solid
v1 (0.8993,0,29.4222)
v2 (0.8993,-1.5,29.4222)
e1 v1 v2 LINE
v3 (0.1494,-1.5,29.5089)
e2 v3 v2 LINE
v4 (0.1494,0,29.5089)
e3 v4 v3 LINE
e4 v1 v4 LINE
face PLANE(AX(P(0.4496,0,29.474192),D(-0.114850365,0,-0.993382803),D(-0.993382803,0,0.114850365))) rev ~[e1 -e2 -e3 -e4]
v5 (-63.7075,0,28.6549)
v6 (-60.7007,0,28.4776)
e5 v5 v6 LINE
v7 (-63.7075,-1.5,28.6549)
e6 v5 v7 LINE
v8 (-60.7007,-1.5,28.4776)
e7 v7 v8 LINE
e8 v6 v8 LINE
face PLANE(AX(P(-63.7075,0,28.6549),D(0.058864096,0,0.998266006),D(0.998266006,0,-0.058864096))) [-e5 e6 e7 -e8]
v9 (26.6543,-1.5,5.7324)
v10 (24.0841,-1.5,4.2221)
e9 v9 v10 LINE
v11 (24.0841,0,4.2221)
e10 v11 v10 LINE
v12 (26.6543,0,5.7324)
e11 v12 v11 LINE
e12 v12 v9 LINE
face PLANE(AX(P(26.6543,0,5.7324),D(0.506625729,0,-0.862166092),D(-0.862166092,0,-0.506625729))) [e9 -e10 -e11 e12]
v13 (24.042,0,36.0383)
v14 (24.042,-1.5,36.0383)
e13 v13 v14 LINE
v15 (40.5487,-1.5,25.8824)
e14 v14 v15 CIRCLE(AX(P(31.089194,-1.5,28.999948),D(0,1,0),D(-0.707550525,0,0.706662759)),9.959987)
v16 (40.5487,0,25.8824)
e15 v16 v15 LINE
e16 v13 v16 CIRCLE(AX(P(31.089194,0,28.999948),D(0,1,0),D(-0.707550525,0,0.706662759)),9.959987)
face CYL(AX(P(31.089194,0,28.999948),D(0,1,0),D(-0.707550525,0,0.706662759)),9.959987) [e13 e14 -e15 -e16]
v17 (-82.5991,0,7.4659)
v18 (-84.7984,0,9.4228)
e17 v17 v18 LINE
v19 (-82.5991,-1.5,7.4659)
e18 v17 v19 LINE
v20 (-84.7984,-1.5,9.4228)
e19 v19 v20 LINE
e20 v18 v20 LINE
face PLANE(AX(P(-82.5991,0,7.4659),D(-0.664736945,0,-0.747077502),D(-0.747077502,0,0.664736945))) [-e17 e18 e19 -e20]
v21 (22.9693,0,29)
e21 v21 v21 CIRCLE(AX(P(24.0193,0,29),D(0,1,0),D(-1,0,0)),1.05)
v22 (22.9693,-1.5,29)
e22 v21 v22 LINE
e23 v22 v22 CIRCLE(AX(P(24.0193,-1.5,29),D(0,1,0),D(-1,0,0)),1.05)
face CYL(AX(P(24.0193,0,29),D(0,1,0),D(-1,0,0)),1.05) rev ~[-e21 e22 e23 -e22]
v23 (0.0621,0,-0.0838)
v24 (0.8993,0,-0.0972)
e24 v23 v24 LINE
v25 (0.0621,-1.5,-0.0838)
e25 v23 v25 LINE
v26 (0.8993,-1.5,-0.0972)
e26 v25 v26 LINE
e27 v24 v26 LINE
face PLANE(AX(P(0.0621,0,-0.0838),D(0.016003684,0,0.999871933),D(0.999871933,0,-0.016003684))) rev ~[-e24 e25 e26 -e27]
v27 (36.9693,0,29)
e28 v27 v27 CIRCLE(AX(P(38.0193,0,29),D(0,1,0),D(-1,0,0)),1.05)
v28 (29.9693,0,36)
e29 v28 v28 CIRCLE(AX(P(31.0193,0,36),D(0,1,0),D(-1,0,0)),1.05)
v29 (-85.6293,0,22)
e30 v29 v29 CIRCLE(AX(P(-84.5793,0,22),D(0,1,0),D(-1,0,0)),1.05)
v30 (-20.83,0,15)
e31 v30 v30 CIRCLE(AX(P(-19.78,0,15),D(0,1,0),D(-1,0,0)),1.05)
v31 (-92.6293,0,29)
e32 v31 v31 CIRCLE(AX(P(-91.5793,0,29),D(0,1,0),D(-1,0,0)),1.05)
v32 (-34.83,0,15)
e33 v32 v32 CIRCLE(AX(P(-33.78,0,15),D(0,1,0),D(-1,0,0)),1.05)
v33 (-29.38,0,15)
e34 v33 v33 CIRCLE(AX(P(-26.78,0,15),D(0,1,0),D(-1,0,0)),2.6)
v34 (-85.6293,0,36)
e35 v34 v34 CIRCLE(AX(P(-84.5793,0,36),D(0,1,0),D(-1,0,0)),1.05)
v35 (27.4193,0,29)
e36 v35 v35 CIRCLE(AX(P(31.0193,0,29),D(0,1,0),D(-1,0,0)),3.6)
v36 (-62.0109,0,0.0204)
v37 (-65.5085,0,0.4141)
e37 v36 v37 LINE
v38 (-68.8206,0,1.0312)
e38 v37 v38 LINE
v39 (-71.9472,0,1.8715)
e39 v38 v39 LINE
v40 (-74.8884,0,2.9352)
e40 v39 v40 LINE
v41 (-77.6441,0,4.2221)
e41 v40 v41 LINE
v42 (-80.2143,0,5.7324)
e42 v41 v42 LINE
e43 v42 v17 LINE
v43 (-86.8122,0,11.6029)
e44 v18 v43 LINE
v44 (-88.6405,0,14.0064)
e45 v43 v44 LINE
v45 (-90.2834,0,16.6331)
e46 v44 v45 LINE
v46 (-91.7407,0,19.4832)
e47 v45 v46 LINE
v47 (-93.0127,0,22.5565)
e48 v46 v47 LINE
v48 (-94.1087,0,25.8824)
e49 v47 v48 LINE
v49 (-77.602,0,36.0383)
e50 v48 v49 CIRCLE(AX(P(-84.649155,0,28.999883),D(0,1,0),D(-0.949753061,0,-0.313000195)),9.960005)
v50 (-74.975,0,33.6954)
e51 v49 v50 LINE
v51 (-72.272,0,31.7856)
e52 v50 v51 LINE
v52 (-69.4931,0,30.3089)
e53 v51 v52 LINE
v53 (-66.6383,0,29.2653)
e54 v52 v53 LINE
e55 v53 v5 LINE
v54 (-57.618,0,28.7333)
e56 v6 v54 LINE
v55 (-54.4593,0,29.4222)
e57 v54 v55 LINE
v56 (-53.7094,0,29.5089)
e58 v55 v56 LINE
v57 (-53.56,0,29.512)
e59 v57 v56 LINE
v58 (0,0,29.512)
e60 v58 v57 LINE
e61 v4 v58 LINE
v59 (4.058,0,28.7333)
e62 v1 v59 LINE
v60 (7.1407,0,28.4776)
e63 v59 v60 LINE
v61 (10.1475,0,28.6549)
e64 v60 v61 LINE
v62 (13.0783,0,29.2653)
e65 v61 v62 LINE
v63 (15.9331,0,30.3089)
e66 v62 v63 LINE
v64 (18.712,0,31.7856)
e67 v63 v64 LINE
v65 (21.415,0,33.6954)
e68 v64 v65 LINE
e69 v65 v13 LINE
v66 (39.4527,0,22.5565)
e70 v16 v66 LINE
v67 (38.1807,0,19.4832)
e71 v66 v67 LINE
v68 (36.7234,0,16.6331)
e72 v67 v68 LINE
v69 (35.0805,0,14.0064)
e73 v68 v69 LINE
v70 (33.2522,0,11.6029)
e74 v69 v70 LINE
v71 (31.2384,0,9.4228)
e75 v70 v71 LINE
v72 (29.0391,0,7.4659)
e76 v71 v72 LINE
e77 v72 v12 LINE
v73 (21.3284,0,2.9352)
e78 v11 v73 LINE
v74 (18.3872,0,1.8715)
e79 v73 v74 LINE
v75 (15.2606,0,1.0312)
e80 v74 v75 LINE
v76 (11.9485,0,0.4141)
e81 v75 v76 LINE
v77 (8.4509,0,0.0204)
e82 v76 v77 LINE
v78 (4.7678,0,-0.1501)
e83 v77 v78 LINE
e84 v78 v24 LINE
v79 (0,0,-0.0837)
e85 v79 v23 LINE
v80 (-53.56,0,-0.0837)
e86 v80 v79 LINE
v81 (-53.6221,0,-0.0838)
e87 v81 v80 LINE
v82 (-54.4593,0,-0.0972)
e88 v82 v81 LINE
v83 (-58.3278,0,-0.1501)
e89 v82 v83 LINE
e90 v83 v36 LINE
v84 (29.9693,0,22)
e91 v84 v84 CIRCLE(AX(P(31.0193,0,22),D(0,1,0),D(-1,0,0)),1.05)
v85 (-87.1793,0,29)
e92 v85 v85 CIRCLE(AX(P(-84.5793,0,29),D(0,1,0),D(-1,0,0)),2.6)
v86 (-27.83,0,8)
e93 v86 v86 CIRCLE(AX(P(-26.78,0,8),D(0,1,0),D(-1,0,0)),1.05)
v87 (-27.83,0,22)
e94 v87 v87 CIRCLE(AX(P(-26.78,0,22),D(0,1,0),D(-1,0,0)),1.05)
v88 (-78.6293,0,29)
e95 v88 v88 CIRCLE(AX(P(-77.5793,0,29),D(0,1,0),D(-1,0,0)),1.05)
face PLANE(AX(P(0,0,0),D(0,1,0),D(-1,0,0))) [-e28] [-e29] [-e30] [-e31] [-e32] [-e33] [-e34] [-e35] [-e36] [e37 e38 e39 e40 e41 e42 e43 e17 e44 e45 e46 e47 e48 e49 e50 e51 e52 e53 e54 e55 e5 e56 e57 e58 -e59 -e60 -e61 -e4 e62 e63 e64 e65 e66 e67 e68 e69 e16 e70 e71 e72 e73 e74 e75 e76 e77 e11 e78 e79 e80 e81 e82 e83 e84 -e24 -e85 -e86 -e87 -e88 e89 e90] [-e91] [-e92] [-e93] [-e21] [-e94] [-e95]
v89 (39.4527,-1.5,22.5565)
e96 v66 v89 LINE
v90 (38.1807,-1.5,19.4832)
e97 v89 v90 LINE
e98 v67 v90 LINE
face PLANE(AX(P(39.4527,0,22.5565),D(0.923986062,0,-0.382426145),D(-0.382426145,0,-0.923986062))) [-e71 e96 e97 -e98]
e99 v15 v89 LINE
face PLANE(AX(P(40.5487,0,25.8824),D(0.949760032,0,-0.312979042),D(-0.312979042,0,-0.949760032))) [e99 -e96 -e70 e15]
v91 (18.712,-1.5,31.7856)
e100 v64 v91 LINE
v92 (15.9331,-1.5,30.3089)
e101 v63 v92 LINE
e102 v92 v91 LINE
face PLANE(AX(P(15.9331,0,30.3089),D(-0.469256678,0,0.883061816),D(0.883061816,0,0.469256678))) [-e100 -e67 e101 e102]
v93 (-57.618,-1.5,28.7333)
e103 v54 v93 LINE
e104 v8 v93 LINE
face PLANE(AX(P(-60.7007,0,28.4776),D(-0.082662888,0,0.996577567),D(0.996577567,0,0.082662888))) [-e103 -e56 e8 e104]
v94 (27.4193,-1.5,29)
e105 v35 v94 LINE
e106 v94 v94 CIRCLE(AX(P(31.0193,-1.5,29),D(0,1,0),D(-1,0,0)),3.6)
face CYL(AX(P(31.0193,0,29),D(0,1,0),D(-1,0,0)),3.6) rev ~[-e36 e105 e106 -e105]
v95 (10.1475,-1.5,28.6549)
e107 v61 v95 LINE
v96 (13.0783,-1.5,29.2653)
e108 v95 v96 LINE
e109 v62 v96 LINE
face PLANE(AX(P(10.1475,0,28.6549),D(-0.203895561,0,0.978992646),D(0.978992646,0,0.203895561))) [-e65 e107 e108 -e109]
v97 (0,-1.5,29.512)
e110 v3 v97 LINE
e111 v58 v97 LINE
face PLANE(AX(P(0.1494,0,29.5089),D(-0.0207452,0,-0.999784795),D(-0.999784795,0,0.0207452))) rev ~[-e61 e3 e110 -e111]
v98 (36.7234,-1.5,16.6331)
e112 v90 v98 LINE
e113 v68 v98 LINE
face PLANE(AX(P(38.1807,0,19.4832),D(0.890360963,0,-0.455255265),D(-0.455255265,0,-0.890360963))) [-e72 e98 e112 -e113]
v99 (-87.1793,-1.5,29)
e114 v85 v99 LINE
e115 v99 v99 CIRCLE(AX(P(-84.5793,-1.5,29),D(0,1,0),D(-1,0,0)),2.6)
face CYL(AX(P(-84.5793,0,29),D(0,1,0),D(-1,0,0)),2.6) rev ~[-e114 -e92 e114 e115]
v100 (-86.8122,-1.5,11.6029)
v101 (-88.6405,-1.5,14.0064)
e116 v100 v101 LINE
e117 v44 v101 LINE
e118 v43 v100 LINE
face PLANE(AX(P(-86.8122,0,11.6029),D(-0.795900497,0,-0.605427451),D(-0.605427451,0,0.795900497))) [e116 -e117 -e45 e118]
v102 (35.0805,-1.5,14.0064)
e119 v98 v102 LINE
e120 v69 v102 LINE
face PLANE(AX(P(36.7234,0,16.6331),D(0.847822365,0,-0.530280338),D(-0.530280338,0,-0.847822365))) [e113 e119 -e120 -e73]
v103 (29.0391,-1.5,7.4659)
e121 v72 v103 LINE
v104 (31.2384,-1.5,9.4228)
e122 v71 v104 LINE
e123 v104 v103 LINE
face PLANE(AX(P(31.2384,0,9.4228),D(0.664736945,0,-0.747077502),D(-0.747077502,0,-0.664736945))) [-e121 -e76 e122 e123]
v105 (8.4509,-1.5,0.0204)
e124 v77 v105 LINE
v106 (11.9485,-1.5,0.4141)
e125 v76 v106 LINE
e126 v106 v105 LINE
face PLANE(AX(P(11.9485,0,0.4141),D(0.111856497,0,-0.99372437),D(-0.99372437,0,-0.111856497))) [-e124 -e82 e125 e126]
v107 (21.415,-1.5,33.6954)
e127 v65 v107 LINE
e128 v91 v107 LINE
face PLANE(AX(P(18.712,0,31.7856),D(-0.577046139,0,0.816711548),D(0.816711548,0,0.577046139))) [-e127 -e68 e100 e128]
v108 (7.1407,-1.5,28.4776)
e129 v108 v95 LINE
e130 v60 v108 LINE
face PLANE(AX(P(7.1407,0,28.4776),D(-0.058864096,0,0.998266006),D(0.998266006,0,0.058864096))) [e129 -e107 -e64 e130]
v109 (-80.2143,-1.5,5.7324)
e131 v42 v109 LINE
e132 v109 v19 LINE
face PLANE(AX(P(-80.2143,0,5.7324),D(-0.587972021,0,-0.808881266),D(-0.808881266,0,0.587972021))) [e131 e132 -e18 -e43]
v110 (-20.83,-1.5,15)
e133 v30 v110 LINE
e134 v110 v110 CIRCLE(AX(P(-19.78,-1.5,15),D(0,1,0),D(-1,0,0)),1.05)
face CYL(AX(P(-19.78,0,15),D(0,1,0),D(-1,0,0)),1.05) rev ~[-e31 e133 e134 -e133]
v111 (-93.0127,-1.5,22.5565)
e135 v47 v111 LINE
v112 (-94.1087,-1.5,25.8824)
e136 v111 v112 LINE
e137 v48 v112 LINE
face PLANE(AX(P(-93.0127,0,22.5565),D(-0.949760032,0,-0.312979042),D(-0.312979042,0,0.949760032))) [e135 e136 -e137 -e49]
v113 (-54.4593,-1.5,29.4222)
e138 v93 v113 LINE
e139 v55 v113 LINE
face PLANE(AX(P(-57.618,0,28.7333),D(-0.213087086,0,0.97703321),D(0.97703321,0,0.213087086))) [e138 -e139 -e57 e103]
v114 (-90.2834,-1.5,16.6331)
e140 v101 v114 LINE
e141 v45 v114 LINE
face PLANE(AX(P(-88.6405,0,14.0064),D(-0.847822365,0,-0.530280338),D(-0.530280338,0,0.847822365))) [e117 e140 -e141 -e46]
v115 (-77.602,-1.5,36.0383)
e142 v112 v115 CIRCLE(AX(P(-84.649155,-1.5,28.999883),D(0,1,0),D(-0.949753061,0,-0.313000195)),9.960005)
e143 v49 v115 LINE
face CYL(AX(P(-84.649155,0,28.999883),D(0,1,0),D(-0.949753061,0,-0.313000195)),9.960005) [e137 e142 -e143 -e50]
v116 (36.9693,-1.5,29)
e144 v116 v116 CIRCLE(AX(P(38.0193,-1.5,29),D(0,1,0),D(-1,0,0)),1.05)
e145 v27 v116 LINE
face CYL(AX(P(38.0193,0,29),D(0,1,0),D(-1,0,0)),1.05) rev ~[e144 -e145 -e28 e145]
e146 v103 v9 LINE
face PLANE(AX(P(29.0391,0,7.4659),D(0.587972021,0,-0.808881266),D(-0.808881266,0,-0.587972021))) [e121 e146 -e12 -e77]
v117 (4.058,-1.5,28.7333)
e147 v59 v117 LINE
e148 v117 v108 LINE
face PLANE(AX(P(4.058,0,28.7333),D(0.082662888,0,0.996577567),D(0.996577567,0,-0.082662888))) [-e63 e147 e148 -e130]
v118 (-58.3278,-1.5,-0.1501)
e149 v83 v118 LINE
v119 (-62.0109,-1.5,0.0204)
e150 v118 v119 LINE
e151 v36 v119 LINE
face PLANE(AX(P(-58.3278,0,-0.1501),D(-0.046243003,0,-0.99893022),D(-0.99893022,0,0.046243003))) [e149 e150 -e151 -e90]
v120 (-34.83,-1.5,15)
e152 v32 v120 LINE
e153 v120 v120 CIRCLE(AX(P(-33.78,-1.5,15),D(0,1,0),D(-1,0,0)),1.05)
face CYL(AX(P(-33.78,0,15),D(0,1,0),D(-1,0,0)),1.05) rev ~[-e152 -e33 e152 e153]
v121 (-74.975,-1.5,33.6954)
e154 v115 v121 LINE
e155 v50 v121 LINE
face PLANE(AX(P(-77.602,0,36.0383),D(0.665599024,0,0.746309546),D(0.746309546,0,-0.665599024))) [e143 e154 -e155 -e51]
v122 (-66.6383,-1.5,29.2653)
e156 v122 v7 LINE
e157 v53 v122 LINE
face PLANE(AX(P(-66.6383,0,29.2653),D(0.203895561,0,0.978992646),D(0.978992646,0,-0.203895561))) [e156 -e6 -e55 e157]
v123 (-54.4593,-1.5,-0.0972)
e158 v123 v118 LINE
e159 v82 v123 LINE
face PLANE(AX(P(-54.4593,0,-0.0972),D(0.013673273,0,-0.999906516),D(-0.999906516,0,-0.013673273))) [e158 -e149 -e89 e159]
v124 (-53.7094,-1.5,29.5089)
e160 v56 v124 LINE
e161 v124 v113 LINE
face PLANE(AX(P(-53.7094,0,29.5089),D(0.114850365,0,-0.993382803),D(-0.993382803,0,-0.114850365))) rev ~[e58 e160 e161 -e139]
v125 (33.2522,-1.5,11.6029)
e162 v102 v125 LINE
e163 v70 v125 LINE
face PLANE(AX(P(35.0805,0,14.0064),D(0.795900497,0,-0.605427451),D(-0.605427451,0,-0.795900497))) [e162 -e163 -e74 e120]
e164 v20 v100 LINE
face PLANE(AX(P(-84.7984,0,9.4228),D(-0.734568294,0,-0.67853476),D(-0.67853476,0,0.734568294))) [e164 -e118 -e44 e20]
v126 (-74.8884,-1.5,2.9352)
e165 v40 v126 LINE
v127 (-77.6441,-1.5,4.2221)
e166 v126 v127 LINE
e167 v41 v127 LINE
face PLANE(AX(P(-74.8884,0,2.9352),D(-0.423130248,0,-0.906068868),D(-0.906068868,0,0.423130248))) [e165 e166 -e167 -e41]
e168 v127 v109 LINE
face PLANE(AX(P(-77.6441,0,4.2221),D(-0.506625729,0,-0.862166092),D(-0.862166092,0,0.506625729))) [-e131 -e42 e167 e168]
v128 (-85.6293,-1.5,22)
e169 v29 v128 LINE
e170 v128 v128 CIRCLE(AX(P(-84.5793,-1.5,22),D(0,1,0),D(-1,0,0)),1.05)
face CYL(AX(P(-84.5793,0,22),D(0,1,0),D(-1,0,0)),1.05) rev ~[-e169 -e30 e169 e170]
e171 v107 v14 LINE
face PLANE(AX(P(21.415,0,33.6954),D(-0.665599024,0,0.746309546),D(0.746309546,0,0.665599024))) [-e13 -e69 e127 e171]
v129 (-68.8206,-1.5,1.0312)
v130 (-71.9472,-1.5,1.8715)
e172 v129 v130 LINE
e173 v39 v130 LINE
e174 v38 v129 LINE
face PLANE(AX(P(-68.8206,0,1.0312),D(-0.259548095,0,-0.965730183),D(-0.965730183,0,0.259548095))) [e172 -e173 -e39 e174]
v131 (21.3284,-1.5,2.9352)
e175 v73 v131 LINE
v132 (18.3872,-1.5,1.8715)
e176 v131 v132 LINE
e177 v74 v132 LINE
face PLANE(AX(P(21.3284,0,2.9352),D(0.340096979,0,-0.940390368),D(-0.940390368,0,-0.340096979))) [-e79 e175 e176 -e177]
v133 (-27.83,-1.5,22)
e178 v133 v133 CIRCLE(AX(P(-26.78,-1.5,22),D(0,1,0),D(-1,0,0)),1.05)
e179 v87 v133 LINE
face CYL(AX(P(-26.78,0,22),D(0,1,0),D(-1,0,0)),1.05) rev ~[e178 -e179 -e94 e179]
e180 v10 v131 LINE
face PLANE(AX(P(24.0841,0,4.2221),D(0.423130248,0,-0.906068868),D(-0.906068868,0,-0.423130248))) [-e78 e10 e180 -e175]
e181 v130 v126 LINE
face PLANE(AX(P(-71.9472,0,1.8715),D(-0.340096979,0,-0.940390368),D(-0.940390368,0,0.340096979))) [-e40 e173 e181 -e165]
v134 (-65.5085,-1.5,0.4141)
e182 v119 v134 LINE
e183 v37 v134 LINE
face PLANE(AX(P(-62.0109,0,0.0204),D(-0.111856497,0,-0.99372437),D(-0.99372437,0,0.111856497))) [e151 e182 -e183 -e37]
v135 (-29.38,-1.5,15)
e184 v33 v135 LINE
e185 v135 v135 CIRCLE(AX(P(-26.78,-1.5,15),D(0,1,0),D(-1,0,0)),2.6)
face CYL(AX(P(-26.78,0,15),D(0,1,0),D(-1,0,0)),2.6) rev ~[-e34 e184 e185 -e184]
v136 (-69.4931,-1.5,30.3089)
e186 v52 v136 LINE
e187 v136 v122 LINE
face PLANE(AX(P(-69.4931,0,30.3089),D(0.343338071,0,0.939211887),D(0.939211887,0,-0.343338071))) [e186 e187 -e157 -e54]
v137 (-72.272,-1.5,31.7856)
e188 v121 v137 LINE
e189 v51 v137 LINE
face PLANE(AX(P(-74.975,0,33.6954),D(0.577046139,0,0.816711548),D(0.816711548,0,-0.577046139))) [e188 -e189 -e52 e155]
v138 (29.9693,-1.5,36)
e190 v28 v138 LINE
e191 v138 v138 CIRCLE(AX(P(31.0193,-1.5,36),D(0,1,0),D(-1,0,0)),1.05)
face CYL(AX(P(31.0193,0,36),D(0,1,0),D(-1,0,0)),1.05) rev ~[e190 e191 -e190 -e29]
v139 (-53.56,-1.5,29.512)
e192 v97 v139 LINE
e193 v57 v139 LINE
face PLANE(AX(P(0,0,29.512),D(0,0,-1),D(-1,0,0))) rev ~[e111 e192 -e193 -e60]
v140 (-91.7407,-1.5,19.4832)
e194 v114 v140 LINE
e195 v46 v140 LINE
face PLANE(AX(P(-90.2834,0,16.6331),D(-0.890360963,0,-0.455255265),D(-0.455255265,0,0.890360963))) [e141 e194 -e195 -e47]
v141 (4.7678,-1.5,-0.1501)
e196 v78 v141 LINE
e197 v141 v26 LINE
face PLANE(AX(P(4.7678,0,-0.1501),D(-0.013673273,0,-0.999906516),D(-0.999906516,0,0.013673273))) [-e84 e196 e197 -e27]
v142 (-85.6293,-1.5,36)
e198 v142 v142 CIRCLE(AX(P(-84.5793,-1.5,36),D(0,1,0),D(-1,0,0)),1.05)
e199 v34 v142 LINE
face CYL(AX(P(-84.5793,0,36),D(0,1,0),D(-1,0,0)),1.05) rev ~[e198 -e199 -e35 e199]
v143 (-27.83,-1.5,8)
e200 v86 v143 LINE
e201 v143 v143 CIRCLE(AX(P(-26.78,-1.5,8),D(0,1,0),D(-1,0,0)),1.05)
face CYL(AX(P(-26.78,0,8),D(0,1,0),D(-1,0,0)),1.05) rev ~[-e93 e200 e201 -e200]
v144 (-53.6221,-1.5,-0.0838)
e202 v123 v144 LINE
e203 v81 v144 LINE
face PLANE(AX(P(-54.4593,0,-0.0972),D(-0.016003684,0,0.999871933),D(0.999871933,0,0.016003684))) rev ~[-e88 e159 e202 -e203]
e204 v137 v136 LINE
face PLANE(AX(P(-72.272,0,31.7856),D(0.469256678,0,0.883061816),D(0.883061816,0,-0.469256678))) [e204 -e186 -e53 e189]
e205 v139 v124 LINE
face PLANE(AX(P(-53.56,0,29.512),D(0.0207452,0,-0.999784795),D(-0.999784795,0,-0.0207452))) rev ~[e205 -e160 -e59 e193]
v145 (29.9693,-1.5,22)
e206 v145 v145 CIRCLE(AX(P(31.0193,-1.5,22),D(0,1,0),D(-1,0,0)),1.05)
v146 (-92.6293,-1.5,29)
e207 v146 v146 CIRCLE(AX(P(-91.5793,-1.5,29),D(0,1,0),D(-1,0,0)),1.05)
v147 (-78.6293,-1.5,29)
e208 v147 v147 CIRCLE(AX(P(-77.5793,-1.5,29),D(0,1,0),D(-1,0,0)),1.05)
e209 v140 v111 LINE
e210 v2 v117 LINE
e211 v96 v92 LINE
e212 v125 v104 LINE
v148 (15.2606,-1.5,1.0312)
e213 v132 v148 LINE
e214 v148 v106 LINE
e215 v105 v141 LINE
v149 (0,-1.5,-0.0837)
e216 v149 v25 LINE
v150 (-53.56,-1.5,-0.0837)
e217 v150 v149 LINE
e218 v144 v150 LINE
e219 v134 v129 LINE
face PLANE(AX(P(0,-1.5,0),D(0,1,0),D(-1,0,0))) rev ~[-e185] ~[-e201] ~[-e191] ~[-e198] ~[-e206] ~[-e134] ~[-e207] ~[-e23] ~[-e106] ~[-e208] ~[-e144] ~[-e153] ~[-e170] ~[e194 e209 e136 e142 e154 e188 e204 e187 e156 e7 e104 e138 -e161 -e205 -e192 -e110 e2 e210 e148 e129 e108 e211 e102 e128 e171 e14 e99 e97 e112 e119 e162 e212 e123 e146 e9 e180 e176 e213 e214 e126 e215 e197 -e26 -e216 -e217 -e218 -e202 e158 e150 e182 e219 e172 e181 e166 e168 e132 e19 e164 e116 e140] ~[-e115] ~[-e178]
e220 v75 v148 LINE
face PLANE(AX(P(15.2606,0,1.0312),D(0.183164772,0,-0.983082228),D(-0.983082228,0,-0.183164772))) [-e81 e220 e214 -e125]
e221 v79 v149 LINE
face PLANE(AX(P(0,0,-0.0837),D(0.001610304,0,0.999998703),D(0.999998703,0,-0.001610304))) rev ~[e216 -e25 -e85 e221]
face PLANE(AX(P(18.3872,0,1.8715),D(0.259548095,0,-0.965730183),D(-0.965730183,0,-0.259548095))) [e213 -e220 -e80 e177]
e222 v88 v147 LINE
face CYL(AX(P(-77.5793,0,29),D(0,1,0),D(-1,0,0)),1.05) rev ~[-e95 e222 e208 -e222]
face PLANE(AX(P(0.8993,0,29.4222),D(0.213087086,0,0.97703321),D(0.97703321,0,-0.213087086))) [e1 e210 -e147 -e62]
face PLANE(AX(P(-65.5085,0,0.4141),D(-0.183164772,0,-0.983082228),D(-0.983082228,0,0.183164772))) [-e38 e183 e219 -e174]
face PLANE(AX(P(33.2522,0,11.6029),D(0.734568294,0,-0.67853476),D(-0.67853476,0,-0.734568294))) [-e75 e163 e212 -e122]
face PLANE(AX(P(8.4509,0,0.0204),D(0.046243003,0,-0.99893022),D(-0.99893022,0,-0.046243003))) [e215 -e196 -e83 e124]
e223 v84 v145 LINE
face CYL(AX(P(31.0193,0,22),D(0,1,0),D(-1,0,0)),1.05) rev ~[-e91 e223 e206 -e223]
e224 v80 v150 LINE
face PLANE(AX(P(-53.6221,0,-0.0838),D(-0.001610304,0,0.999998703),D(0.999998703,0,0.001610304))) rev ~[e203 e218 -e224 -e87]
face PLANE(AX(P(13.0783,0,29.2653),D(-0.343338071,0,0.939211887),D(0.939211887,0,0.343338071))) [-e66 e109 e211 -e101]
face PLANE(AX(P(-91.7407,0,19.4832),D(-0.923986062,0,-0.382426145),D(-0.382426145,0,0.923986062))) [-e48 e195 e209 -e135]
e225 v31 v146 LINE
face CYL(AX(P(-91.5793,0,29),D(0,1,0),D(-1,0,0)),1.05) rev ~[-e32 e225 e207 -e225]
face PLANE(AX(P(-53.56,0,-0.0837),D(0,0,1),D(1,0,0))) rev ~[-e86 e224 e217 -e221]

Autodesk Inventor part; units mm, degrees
ref_plane "YZ Plane" through (0, 0, 0) normal (1, 0, 0) x (0, 1, 0)
ref_plane "XZ Plane" through (0, 0, 0) normal (0, 1, 0) x (-1, 0, 0)
ref_plane "XY Plane" through (0, 0, 0) normal (0, 0, 1) x (1, 0, 0)
sketch "Sketch1" plane through (0, 0, 0) normal (0, 1, 0) x (-1, 0, 0)
  line L0 (-0.4496, 29.8144) -> (-0.4496, -0.0878)
  line L1 (54.0096, -0.0338) -> (54.0096, 29.8144)
  line L2 (53.5706, 0) -> (53.6221, -0.0838)
  line L3 (53.56, 0) -> (53.5706, 0)
  line L4 (53.56, -0.0837) -> (53.56, 0)
  line L5 (-0.0106, 0) -> (-0.0621, -0.0838)
  line L6 (-0.8993, -0.0972) -> (-0.0106, 0)
  line L7 (53.5706, 0) -> (54.4593, -0.0972)
  line L8 (0, 0) -> (0, -0.0837)
  line L9 (-0.0106, 0) -> (0, 0)
  line L10 (0, 0) -> (53.56, 0)
  line L11 (53.7094, 29.5089) -> (53.5853, 29.9994)
  line L12 (53.56, 29.512) -> (53.7094, 29.5089)
  line L13 (53.56, 30) -> (53.56, 29.512)
  line L14 (-0.1494, 29.5089) -> (-0.0253, 29.9994)
  line L15 (-0.8993, 29.4222) -> (-0.1494, 29.5089)
  line L16 (0, 29.512) -> (0, 30)
  line L17 (-0.1494, 29.5089) -> (0, 29.512)
  line L18 (53.7094, 29.5089) -> (54.4593, 29.4222)
  line L19 (0, 29.512) -> (53.56, 29.512)
  circle A0 centre (26.78, 15) radius 2.6
  circle A1 centre (84.5793, 29) radius 2.6
  circle A2 centre (-31.0193, 29) radius 3.6
  circle A3 centre (91.5793, 29) radius 1.05
  circle A4 centre (84.5793, 36) radius 1.05
  circle A5 centre (84.5793, 22) radius 1.05
  circle A6 centre (77.5793, 29) radius 1.05
  circle A7 centre (-38.0193, 29) radius 1.05
  circle A8 centre (-31.0193, 36) radius 1.05
  circle A9 centre (-31.0193, 22) radius 1.05
  circle A10 centre (-24.0193, 29) radius 1.05
  circle A11 centre (19.78, 15) radius 1.05
  circle A12 centre (26.78, 22) radius 1.05
  circle A13 centre (33.78, 15) radius 1.05
  circle A14 centre (26.78, 8) radius 1.05
  line L20 (53.5853, 29.9994) -> (53.56, 30)
  line L21 (53.6221, -0.0838) -> (53.56, -0.0837)
  line L22 (-0.0621, -0.0838) -> (-0.8993, -0.0972)
  line L23 (-0.0253, 29.9994) -> (-0.8993, 29.4222)
  line L24 (77.602, 36.0383) -> (74.975, 33.6954)
  line L25 (74.975, 33.6954) -> (72.272, 31.7856)
  line L26 (72.272, 31.7856) -> (69.4931, 30.3089)
  line L27 (69.4931, 30.3089) -> (66.6383, 29.2653)
  line L28 (66.6383, 29.2653) -> (63.7075, 28.6549)
  line L29 (63.7075, 28.6549) -> (60.7007, 28.4776)
  line L30 (60.7007, 28.4776) -> (57.618, 28.7333)
  line L31 (57.618, 28.7333) -> (54.4593, 29.4222)
  line L32 (54.4593, -0.0972) -> (53.6221, -0.0838)
  line L33 (-40.5487, 25.8824) -> (-39.4527, 22.5565)
  line L34 (-39.4527, 22.5565) -> (-38.1807, 19.4832)
  line L35 (-38.1807, 19.4832) -> (-36.7234, 16.6331)
  line L36 (-36.7234, 16.6331) -> (-35.0805, 14.0064)
  line L37 (-35.0805, 14.0064) -> (-33.2522, 11.6029)
  line L38 (-33.2522, 11.6029) -> (-31.2384, 9.4228)
  line L39 (-31.2384, 9.4228) -> (-29.0391, 7.4659)
  line L40 (-29.0391, 7.4659) -> (-26.6543, 5.7324)
  line L41 (-26.6543, 5.7324) -> (-24.0841, 4.2221)
  line L42 (-24.0841, 4.2221) -> (-21.3284, 2.9352)
  line L43 (-21.3284, 2.9352) -> (-18.3872, 1.8715)
  line L44 (-18.3872, 1.8715) -> (-15.2606, 1.0312)
  line L45 (-15.2606, 1.0312) -> (-11.9485, 0.4141)
  line L46 (-11.9485, 0.4141) -> (-8.4509, 0.0204)
  line L47 (-8.4509, 0.0204) -> (-4.7678, -0.1501)
  line L48 (-4.7678, -0.1501) -> (-0.8993, -0.0972)
  line L49 (0, 30) -> (-0.0253, 29.9994)
  line L50 (54.4593, -0.0972) -> (58.3278, -0.1501)
  line L51 (58.3278, -0.1501) -> (62.0109, 0.0204)
  line L52 (62.0109, 0.0204) -> (65.5085, 0.4141)
  line L53 (65.5085, 0.4141) -> (68.8206, 1.0312)
  line L54 (68.8206, 1.0312) -> (71.9472, 1.8715)
  line L55 (71.9472, 1.8715) -> (74.8884, 2.9352)
  line L56 (74.8884, 2.9352) -> (77.6441, 4.2221)
  line L57 (77.6441, 4.2221) -> (80.2143, 5.7324)
  line L58 (80.2143, 5.7324) -> (82.5991, 7.4659)
  line L59 (82.5991, 7.4659) -> (84.7984, 9.4228)
  line L60 (84.7984, 9.4228) -> (86.8122, 11.6029)
  line L61 (86.8122, 11.6029) -> (88.6405, 14.0064)
  line L62 (88.6405, 14.0064) -> (90.2834, 16.6331)
  line L63 (90.2834, 16.6331) -> (91.7407, 19.4832)
  line L64 (91.7407, 19.4832) -> (93.0127, 22.5565)
  line L65 (93.0127, 22.5565) -> (94.1087, 25.8824)
  line L66 (54.4593, 29.4222) -> (53.5853, 29.9994)
  line L67 (-0.8993, 29.4222) -> (-4.058, 28.7333)
  line L68 (-4.058, 28.7333) -> (-7.1407, 28.4776)
  line L69 (-7.1407, 28.4776) -> (-10.1475, 28.6549)
  line L70 (-10.1475, 28.6549) -> (-13.0783, 29.2653)
  line L71 (-13.0783, 29.2653) -> (-15.9331, 30.3089)
  line L72 (-15.9331, 30.3089) -> (-18.712, 31.7856)
  line L73 (-18.712, 31.7856) -> (-21.415, 33.6954)
  line L74 (-21.415, 33.6954) -> (-24.042, 36.0383)
  line L75 (0, -0.0837) -> (-0.0621, -0.0838)
  line L76 (53.56, 30) -> (0, 30)
  arc A15 (-24.042, 36.0383) -> (-40.5487, 25.8824) centre (-31.0892, 28.9999) ccw
  arc A16 (94.1087, 25.8824) -> (77.602, 36.0383) centre (84.6492, 28.9999) ccw
  line L77 (53.56, -0.0837) -> (0, -0.0837)
  line L78 (54.4593, 29.4222) -> (54.4593, -0.0972)
  line L79 (-0.8993, -0.0972) -> (-0.8993, 29.4222)
  line L80 (53.56, 0) -> (53.56, 30)
  line L81 (0, 30) -> (0, 0)
  point P0 (0, 0)
extrude "Extrusion1" add sketch "Sketch1" against normal blind 1.5 contours L15 L17 L81 L9 L6 L0 | L0 L6 L79 L15 | L79 L48 L47 L46 L45 L44 L43 L42 L41 L40 L39 L38 L37 L36 L35 L34 L33 A15 L74 L73 L72 L71 L70 L69 L68 L67 | L19 L80 L10 L81 | L12 L18 L78 L7 L3 L80 | L31 L30 L29 L28 L27 L26 L25 L24 A16 L65 L64 L63 L62 L61 L60 L59 L58 L57 L56 L55 L54 L53 L52 L51 L50 L78
extrude "Extrusion2" add sketch "Sketch1" against normal blind 1.5 contours L6 L5 L22 | L9 L8 L75 L5 | L10 L4 L77 L8 | L3 L2 L21 L4 | L7 L32 L2
sketch "Sketch2" plane through (0, 0, 0) normal (0, 1, 0) x (1, 0, 0)
  line L0 (-54.4593, -29.4222) -> (-54.4593, 0.0972) projected
  line L1 (0.8993, 0.0972) -> (0.8993, -29.4222) projected
  point P0 (0, 0)
properties part number "axis_21_bottom_frame"
